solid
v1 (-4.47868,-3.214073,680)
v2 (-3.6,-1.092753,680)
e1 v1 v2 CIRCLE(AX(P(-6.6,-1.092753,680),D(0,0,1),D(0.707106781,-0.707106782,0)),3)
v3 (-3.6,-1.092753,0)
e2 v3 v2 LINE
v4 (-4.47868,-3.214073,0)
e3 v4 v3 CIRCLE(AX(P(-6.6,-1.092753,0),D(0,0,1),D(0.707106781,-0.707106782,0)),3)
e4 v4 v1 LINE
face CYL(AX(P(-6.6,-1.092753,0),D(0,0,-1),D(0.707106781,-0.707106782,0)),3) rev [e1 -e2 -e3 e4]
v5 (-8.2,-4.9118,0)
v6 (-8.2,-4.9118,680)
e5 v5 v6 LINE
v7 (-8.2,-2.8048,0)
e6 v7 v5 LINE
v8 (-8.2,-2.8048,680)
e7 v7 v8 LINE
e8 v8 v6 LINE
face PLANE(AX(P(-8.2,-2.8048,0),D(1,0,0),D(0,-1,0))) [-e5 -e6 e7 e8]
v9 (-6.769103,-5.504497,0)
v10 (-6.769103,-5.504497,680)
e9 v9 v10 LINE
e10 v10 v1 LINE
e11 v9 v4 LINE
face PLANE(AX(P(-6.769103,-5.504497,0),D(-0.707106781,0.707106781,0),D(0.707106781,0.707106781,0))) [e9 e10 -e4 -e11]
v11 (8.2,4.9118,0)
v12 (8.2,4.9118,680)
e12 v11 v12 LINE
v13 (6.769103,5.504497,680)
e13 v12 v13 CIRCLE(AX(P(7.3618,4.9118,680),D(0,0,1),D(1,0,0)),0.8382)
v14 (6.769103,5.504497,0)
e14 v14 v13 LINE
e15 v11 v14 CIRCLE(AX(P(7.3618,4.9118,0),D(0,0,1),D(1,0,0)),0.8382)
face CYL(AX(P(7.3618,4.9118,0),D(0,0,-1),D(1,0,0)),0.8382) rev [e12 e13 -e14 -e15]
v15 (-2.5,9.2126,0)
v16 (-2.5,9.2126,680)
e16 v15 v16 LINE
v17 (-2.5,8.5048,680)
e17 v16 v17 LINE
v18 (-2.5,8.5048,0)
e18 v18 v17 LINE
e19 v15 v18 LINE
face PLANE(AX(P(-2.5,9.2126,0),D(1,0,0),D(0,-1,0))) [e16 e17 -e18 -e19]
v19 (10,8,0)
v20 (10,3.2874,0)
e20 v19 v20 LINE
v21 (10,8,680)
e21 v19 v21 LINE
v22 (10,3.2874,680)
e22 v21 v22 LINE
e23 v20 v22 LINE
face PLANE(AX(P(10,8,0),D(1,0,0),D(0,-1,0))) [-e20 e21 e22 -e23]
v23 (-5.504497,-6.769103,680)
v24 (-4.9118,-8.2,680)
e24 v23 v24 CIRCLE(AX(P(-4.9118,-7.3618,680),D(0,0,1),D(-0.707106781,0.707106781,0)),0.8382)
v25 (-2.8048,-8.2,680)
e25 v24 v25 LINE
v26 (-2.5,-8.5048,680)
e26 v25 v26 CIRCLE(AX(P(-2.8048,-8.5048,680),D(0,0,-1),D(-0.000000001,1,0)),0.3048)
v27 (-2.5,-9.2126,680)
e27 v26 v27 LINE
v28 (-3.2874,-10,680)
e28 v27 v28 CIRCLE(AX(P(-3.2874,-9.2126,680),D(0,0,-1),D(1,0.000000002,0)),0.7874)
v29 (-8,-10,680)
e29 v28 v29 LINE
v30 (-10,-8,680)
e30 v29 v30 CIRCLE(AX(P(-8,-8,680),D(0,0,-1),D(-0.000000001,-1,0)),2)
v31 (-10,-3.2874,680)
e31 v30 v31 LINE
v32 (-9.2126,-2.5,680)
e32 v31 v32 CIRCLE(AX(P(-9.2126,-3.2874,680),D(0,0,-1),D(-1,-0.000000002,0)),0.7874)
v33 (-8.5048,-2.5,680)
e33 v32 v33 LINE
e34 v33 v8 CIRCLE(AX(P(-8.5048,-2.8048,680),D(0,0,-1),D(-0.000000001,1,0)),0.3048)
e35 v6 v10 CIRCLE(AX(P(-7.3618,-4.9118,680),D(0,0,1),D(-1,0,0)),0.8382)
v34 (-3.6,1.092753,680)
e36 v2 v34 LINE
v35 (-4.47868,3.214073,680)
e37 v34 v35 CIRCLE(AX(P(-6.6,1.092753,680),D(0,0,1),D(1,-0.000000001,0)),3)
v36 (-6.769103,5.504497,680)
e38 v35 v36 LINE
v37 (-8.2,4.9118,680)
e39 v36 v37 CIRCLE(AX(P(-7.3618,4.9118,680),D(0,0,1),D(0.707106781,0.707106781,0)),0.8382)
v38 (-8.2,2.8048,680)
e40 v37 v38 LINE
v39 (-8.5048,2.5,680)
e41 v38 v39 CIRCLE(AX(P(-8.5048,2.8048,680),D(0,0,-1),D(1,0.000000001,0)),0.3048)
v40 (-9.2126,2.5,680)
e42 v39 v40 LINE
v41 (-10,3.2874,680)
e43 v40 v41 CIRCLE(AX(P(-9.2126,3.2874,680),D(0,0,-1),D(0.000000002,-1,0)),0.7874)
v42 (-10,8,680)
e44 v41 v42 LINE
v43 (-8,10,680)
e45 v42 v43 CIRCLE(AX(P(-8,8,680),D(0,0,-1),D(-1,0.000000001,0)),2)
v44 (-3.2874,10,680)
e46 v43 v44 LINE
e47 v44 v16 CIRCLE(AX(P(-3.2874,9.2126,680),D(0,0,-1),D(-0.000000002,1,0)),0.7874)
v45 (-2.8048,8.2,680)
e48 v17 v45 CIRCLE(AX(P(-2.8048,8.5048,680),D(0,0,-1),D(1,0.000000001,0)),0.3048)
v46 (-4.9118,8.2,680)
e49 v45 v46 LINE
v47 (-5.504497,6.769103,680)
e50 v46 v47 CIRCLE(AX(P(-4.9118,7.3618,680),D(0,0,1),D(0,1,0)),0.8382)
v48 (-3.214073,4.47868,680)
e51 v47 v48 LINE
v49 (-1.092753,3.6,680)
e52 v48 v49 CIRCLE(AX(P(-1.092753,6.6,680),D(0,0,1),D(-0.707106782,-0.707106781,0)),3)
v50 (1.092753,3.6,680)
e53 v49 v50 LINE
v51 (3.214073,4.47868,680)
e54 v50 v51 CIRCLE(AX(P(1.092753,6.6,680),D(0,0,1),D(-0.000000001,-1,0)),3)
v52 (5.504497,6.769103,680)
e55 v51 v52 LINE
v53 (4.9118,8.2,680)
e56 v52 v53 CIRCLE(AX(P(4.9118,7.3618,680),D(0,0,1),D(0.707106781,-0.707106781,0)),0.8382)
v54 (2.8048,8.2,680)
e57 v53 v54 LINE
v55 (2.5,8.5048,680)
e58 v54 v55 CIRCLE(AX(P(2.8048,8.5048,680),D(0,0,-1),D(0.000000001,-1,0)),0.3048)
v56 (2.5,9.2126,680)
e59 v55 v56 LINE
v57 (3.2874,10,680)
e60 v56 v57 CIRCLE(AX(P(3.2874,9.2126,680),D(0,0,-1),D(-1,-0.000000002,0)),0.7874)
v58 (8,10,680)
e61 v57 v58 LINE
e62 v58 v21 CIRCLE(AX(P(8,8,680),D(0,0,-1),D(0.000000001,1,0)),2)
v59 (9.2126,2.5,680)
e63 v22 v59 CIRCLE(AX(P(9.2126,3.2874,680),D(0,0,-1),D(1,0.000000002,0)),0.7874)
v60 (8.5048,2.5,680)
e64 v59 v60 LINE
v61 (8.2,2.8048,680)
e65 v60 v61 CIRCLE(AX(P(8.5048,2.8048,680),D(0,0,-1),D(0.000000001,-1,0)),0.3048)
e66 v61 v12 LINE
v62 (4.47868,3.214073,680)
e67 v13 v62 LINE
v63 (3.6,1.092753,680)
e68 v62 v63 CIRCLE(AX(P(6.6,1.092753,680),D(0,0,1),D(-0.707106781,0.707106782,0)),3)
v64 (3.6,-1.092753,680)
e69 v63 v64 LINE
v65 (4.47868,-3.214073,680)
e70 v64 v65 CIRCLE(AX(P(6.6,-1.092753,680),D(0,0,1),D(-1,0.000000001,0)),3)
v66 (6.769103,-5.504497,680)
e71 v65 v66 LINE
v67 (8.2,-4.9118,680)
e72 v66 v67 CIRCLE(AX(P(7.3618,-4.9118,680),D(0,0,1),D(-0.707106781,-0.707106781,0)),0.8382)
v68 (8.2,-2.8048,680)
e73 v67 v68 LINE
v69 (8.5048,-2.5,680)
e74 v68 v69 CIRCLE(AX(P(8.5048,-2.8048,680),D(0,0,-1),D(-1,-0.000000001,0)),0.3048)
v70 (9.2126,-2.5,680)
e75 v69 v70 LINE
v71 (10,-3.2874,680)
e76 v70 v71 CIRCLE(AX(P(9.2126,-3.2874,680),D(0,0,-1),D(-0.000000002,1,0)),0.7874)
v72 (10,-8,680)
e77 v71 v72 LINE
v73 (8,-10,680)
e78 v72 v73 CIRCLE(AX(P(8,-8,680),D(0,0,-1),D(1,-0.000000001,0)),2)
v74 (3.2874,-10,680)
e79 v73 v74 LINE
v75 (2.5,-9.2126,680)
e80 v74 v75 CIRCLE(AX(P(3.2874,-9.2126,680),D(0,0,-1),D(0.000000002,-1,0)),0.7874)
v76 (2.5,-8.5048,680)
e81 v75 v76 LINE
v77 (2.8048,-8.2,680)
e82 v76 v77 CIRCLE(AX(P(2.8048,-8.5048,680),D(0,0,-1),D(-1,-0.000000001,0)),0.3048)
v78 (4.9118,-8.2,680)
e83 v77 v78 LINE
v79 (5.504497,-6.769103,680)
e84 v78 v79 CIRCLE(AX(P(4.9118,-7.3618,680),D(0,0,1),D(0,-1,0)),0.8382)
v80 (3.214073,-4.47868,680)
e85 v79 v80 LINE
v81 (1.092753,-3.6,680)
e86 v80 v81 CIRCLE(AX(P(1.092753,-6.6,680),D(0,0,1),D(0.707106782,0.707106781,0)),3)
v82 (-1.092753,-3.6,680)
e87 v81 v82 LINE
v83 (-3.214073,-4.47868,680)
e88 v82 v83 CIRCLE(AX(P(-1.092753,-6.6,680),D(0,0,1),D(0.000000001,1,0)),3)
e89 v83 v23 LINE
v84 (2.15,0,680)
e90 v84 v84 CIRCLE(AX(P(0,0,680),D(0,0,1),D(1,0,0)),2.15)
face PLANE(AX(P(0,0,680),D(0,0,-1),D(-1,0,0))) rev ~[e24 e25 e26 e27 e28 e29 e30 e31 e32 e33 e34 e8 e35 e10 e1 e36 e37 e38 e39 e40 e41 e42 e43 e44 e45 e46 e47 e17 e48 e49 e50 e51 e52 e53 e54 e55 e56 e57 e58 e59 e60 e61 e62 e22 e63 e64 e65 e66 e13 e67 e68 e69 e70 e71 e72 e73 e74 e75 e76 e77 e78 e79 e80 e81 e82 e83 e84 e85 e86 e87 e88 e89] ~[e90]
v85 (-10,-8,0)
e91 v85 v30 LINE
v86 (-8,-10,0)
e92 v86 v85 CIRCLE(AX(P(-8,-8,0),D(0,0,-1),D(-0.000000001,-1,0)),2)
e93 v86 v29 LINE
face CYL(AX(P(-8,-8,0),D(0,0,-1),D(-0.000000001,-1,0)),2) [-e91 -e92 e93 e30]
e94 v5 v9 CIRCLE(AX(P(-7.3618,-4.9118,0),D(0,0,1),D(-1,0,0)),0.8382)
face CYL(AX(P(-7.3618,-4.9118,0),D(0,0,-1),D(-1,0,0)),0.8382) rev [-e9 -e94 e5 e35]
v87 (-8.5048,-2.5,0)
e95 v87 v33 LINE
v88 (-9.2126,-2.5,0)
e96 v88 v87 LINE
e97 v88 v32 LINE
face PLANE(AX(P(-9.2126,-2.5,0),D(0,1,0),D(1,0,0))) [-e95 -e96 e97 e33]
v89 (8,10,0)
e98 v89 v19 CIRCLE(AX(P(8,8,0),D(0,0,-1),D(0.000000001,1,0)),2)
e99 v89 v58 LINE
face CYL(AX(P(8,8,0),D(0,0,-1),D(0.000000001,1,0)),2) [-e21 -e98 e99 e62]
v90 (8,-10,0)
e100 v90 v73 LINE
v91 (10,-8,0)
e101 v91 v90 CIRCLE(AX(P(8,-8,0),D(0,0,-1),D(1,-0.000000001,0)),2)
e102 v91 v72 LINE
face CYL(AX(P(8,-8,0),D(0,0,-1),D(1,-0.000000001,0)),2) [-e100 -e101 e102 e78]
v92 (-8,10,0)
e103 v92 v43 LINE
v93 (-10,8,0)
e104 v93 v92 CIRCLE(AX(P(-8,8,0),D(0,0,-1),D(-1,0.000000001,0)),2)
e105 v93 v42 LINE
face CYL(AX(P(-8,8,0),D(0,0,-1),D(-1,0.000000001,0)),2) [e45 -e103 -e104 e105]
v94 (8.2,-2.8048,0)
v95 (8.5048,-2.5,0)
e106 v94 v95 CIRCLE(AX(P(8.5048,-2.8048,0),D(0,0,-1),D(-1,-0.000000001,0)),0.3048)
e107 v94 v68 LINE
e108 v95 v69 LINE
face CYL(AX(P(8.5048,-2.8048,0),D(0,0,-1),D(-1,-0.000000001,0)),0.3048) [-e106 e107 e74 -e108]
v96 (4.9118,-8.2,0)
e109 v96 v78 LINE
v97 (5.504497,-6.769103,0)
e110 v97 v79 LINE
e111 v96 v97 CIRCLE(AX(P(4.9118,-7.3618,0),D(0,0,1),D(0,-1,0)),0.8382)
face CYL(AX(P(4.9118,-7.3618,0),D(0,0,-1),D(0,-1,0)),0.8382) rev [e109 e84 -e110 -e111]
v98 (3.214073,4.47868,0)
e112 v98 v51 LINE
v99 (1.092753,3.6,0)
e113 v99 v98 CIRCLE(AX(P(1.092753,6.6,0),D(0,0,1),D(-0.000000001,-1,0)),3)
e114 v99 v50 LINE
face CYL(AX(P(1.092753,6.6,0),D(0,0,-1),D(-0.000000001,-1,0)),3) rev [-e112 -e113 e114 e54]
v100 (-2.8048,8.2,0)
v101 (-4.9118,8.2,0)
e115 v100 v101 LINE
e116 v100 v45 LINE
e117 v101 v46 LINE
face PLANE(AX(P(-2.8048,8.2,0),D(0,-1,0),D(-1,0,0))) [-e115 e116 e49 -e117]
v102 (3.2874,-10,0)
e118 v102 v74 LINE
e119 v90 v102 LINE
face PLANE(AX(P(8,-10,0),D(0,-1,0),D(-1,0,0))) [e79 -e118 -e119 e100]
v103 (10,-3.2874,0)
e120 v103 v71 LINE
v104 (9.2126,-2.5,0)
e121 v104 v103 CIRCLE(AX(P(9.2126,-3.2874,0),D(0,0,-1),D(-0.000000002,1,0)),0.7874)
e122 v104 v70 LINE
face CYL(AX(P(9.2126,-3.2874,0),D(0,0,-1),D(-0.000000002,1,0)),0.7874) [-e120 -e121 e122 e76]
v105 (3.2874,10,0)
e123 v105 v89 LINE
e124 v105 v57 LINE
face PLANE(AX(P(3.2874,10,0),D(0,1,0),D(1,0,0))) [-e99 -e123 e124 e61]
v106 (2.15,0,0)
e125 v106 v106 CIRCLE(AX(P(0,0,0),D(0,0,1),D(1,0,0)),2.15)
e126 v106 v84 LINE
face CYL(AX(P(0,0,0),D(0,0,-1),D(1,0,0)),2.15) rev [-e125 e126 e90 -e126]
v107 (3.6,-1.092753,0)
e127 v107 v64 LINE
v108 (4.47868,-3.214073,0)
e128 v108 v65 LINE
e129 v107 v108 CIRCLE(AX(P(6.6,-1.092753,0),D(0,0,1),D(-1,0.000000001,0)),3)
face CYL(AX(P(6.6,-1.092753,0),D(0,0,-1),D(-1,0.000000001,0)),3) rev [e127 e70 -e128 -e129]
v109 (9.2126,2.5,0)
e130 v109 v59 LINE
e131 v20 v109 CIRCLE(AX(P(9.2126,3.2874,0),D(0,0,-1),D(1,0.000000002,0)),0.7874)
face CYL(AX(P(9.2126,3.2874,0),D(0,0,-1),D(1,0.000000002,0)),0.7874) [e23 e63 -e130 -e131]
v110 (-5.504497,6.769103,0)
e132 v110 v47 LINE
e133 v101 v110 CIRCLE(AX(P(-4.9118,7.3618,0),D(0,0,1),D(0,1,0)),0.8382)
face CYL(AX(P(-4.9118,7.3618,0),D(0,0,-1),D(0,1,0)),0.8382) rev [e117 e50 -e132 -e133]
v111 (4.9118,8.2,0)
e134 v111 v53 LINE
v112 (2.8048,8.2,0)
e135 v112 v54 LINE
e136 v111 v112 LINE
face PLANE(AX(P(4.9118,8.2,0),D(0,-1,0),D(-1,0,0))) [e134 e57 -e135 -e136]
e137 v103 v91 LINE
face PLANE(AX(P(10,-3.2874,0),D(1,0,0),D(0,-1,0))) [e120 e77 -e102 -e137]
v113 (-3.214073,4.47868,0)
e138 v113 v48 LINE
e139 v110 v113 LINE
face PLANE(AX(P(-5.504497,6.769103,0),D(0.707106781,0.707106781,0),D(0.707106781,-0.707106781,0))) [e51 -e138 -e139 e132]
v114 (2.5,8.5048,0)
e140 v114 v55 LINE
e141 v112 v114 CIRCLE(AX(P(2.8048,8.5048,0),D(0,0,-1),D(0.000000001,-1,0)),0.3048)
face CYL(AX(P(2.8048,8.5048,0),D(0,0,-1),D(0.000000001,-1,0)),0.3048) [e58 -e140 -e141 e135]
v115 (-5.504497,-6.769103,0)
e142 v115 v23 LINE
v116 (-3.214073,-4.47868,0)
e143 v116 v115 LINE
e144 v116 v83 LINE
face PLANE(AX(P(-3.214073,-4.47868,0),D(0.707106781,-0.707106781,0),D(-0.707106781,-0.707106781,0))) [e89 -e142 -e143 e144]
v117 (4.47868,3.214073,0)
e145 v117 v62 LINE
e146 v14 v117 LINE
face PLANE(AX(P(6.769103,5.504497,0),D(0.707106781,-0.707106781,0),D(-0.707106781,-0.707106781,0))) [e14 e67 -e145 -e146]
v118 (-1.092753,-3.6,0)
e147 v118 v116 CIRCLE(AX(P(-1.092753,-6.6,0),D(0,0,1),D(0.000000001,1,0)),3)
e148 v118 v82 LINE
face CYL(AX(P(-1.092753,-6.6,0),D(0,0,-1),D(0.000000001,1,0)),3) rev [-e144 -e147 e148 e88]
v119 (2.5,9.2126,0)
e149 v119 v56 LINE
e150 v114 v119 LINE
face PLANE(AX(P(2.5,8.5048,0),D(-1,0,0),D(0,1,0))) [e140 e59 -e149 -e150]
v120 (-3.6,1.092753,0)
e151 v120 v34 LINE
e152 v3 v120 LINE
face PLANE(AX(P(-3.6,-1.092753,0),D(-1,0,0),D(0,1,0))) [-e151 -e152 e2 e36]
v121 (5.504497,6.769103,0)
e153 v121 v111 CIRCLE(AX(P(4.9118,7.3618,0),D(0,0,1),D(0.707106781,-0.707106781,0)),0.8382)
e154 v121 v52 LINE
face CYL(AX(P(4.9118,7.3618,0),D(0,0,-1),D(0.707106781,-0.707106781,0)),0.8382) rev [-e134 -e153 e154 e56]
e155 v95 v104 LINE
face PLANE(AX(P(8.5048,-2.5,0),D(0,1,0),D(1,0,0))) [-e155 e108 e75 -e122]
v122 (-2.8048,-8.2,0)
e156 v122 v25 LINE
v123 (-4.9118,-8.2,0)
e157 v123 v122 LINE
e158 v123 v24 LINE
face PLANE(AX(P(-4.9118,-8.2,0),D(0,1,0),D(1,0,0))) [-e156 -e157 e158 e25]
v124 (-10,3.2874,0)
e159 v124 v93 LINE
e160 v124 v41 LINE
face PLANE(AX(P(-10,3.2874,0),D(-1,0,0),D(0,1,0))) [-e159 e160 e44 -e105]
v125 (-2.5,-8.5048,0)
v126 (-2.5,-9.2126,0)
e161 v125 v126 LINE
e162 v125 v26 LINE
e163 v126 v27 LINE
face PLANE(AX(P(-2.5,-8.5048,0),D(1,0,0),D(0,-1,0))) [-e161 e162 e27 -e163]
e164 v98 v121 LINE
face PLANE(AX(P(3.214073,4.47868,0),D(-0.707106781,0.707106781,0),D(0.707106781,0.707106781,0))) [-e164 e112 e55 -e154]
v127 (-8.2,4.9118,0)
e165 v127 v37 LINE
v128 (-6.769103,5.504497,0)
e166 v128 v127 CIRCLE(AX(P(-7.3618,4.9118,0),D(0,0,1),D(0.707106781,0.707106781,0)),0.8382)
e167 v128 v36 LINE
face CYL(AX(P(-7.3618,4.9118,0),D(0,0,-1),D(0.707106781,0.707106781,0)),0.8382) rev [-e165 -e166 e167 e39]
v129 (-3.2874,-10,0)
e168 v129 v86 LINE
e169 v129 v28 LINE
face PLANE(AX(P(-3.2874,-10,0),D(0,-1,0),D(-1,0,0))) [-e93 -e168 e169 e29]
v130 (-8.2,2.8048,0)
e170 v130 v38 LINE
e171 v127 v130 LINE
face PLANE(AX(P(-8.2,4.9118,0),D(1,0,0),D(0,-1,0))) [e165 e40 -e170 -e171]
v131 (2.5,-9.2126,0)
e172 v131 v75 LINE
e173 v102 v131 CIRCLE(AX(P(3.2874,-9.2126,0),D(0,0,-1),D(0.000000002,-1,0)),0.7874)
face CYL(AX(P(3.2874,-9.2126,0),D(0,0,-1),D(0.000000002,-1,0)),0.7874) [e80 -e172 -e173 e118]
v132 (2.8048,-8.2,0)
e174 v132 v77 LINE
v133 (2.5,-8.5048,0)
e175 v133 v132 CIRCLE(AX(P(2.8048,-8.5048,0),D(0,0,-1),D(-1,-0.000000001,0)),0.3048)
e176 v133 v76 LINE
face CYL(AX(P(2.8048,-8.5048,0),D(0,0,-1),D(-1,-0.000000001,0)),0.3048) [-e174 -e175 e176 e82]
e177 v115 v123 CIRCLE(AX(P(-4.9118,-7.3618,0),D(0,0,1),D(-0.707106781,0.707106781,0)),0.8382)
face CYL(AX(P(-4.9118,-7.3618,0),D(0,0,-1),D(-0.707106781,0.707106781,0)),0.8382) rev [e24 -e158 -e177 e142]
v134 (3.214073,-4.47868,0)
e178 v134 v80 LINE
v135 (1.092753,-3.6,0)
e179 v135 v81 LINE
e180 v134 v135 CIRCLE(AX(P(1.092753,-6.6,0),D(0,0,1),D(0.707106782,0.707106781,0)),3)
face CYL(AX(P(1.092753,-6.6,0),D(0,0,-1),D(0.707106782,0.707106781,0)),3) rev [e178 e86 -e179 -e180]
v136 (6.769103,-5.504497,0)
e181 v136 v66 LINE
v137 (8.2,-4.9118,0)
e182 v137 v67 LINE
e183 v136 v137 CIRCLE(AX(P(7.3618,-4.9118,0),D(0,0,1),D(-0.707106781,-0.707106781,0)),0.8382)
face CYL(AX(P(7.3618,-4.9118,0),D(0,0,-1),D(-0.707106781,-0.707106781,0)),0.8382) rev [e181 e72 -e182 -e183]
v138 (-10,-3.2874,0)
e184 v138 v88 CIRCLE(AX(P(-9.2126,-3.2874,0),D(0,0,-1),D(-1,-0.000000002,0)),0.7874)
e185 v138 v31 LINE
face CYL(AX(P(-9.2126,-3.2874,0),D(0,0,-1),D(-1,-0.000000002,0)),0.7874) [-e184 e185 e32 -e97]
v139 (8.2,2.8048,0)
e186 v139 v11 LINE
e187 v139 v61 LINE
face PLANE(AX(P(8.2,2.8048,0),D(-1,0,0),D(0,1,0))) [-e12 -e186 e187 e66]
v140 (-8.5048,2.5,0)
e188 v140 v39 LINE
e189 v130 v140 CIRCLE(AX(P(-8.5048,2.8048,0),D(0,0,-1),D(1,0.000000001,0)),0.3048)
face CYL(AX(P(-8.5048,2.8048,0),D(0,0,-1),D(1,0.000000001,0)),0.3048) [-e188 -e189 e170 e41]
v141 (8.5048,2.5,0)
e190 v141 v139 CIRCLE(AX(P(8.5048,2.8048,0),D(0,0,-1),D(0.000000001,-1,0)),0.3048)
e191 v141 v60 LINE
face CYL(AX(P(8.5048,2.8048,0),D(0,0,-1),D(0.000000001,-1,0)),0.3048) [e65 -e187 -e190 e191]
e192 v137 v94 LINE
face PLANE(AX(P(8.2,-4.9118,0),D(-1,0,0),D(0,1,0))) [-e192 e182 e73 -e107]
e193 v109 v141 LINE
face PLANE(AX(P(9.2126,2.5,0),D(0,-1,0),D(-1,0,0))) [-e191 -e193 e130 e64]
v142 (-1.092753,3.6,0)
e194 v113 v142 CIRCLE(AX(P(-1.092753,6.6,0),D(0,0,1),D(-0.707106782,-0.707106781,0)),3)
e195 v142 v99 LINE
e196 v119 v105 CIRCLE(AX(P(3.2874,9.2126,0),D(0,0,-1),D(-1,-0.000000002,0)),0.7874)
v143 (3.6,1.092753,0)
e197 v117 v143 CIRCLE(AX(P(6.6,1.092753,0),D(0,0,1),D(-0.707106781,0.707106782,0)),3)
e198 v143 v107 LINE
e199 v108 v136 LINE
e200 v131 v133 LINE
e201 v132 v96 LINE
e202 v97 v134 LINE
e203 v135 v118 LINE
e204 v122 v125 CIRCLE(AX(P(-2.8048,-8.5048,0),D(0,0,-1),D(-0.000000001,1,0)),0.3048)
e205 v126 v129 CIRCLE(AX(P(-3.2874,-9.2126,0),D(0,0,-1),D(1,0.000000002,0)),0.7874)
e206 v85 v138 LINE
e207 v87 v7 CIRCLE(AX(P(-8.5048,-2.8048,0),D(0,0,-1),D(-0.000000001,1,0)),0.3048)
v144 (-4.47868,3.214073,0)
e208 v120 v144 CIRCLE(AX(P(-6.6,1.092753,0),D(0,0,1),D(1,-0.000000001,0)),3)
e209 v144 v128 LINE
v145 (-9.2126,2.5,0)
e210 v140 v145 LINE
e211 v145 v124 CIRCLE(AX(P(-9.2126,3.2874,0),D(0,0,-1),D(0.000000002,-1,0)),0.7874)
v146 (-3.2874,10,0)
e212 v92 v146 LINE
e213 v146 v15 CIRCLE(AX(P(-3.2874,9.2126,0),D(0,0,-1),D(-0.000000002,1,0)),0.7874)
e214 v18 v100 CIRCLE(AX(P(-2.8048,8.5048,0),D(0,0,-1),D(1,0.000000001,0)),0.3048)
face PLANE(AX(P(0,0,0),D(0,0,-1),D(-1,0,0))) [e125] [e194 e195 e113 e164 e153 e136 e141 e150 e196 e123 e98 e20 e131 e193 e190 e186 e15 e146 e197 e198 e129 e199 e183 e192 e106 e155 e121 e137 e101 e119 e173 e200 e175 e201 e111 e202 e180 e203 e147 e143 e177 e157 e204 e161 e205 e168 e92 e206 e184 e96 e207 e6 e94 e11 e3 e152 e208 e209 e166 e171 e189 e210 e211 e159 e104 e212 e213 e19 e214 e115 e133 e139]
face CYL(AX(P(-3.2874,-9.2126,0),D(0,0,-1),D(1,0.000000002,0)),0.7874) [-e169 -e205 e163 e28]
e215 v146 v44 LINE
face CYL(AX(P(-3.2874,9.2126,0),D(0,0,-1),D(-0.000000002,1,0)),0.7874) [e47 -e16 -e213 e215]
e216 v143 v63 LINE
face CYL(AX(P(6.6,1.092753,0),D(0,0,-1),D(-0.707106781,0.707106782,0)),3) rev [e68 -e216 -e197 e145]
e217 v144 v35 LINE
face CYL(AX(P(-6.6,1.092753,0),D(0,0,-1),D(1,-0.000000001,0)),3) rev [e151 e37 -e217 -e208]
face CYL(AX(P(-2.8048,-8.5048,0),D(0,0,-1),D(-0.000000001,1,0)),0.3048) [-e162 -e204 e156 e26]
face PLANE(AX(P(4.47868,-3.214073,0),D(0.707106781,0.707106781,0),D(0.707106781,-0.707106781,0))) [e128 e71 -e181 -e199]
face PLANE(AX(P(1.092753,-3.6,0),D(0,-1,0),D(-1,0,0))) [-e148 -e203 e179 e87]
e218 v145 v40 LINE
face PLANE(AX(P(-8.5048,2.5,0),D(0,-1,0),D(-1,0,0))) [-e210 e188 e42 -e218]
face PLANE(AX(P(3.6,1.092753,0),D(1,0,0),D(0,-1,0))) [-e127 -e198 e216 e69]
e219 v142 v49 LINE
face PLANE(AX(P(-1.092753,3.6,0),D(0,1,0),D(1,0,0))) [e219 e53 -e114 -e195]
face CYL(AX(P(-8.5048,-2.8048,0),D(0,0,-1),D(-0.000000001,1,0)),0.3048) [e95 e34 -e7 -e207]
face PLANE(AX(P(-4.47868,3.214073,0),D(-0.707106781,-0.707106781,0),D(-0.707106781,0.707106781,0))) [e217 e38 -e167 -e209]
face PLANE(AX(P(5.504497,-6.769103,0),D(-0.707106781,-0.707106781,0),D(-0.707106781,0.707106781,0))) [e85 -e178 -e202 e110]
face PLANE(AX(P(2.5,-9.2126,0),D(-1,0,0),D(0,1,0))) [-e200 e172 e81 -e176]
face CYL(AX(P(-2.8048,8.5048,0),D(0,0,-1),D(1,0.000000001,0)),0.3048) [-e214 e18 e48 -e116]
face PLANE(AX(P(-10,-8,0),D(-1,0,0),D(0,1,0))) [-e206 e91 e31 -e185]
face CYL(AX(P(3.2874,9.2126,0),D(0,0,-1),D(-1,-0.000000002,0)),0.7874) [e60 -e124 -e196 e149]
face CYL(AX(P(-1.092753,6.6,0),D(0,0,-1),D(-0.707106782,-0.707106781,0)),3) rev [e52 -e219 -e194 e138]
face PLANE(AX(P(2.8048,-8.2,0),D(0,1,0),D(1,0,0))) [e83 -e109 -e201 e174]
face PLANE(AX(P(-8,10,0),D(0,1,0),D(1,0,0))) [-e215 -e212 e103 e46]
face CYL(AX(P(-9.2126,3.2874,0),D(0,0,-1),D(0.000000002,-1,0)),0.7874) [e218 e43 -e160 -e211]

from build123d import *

# Parameters (mm, degrees)
SKETCH3_R           = 2.15
BOSS_EXTRUDE1_DEPTH = 680


with BuildPart() as part:
    # Sketch3 → Boss-Extrude1 (new body)
    with BuildSketch(Plane.XY):
        with BuildLine():
            Line((3.2874, 10), (8, 10))
            ThreePointArc((8, 10), (9.414213562, 9.414213562), (10, 8))
            Line((10, 8), (10, 3.2874))
            ThreePointArc((10, 3.2874), (9.76937588, 2.73062412), (9.2126, 2.5))
            Line((9.2126, 2.5), (8.5048, 2.5))
            ThreePointArc((8.5048, 2.5), (8.289273853, 2.589273853), (8.2, 2.8048))
            Line((8.2, 2.8048), (8.2, 4.9118))
            ThreePointArc((8.2, 4.9118), (7.682565253, 5.686195824), (6.769103096, 5.504496904))
            Line((6.769103096, 5.504496904), (4.478679656, 3.214073464))
            ThreePointArc((4.478679656, 3.214073464), (3.828361402, 2.240803418), (3.6, 1.092753121))
            Line((3.6, 1.092753121), (3.6, -1.092753121))
            ThreePointArc((3.6, -1.092753121), (3.828361402, -2.240803418), (4.478679656, -3.214073464))
            Line((4.478679656, -3.214073464), (6.769103096, -5.504496904))
            ThreePointArc((6.769103096, -5.504496904), (7.682565253, -5.686195824), (8.2, -4.9118))
            Line((8.2, -4.9118), (8.2, -2.8048))
            ThreePointArc((8.2, -2.8048), (8.289273853, -2.589273853), (8.5048, -2.5))
            Line((8.5048, -2.5), (9.2126, -2.5))
            ThreePointArc((9.2126, -2.5), (9.76937588, -2.73062412), (10, -3.2874))
            Line((10, -3.2874), (10, -8))
            ThreePointArc((10, -8), (9.414213562, -9.414213562), (8, -10))
            Line((8, -10), (3.2874, -10))
            ThreePointArc((3.2874, -10), (2.73062412, -9.76937588), (2.5, -9.2126))
            Line((2.5, -9.2126), (2.5, -8.5048))
            ThreePointArc((2.5, -8.5048), (2.589273853, -8.289273853), (2.8048, -8.2))
            Line((2.8048, -8.2), (4.9118, -8.2))
            ThreePointArc((4.9118, -8.2), (5.686195824, -7.682565253), (5.504496904, -6.769103096))
            Line((5.504496904, -6.769103096), (3.214073464, -4.478679656))
            ThreePointArc((3.214073464, -4.478679656), (2.240803418, -3.828361402), (1.092753121, -3.6))
            Line((1.092753121, -3.6), (-1.092753121, -3.6))
            ThreePointArc((-1.092753121, -3.6), (-2.240803418, -3.828361402), (-3.214073464, -4.478679656))
            Line((-3.214073464, -4.478679656), (-5.504496904, -6.769103096))
            ThreePointArc((-5.504496904, -6.769103096), (-5.686195824, -7.682565253), (-4.9118, -8.2))
            Line((-4.9118, -8.2), (-2.8048, -8.2))
            ThreePointArc((-2.8048, -8.2), (-2.589273853, -8.289273853), (-2.5, -8.5048))
            Line((-2.5, -8.5048), (-2.5, -9.2126))
            ThreePointArc((-2.5, -9.2126), (-2.73062412, -9.76937588), (-3.2874, -10))
            Line((-3.2874, -10), (-8, -10))
            ThreePointArc((-8, -10), (-9.414213562, -9.414213562), (-10, -8))
            Line((-10, -8), (-10, -3.2874))
            ThreePointArc((-10, -3.2874), (-9.76937588, -2.73062412), (-9.2126, -2.5))
            Line((-9.2126, -2.5), (-8.5048, -2.5))
            ThreePointArc((-8.5048, -2.5), (-8.289273853, -2.589273853), (-8.2, -2.8048))
            Line((-8.2, -2.8048), (-8.2, -4.9118))
            ThreePointArc((-8.2, -4.9118), (-7.682565253, -5.686195824), (-6.769103096, -5.504496904))
            Line((-6.769103096, -5.504496904), (-4.478679656, -3.214073464))
            ThreePointArc((-4.478679656, -3.214073464), (-3.828361402, -2.240803418), (-3.6, -1.092753121))
            Line((-3.6, -1.092753121), (-3.6, 1.092753121))
            ThreePointArc((-3.6, 1.092753121), (-3.828361402, 2.240803418), (-4.478679656, 3.214073464))
            Line((-4.478679656, 3.214073464), (-6.769103096, 5.504496904))
            ThreePointArc((-6.769103096, 5.504496904), (-7.682565253, 5.686195824), (-8.2, 4.9118))
            Line((-8.2, 4.9118), (-8.2, 2.8048))
            ThreePointArc((-8.2, 2.8048), (-8.289273853, 2.589273853), (-8.5048, 2.5))
            Line((-8.5048, 2.5), (-9.2126, 2.5))
            ThreePointArc((-9.2126, 2.5), (-9.76937588, 2.73062412), (-10, 3.2874))
            Line((-10, 3.2874), (-10, 8))
            ThreePointArc((-10, 8), (-9.414213562, 9.414213562), (-8, 10))
            Line((-8, 10), (-3.2874, 10))
            ThreePointArc((-3.2874, 10), (-2.73062412, 9.76937588), (-2.5, 9.2126))
            Line((-2.5, 9.2126), (-2.5, 8.5048))
            ThreePointArc((-2.5, 8.5048), (-2.589273853, 8.289273853), (-2.8048, 8.2))
            Line((-2.8048, 8.2), (-4.9118, 8.2))
            ThreePointArc((-4.9118, 8.2), (-5.686195824, 7.682565253), (-5.504496904, 6.769103096))
            Line((-5.504496904, 6.769103096), (-3.214073464, 4.478679656))
            ThreePointArc((-3.214073464, 4.478679656), (-2.240803418, 3.828361402), (-1.092753121, 3.6))
            Line((-1.092753121, 3.6), (1.092753121, 3.6))
            ThreePointArc((1.092753121, 3.6), (2.240803418, 3.828361402), (3.214073464, 4.478679656))
            Line((3.214073464, 4.478679656), (5.504496904, 6.769103096))
            ThreePointArc((5.504496904, 6.769103096), (5.686195824, 7.682565253), (4.9118, 8.2))
            Line((4.9118, 8.2), (2.8048, 8.2))
            ThreePointArc((2.8048, 8.2), (2.589273853, 8.289273853), (2.5, 8.5048))
            Line((2.5, 8.5048), (2.5, 9.2126))
            ThreePointArc((2.5, 9.2126), (2.73062412, 9.76937588), (3.2874, 10))
        make_face()
        Circle(SKETCH3_R, mode=Mode.SUBTRACT)
    extrude(amount=BOSS_EXTRUDE1_DEPTH)


solid = part.part
